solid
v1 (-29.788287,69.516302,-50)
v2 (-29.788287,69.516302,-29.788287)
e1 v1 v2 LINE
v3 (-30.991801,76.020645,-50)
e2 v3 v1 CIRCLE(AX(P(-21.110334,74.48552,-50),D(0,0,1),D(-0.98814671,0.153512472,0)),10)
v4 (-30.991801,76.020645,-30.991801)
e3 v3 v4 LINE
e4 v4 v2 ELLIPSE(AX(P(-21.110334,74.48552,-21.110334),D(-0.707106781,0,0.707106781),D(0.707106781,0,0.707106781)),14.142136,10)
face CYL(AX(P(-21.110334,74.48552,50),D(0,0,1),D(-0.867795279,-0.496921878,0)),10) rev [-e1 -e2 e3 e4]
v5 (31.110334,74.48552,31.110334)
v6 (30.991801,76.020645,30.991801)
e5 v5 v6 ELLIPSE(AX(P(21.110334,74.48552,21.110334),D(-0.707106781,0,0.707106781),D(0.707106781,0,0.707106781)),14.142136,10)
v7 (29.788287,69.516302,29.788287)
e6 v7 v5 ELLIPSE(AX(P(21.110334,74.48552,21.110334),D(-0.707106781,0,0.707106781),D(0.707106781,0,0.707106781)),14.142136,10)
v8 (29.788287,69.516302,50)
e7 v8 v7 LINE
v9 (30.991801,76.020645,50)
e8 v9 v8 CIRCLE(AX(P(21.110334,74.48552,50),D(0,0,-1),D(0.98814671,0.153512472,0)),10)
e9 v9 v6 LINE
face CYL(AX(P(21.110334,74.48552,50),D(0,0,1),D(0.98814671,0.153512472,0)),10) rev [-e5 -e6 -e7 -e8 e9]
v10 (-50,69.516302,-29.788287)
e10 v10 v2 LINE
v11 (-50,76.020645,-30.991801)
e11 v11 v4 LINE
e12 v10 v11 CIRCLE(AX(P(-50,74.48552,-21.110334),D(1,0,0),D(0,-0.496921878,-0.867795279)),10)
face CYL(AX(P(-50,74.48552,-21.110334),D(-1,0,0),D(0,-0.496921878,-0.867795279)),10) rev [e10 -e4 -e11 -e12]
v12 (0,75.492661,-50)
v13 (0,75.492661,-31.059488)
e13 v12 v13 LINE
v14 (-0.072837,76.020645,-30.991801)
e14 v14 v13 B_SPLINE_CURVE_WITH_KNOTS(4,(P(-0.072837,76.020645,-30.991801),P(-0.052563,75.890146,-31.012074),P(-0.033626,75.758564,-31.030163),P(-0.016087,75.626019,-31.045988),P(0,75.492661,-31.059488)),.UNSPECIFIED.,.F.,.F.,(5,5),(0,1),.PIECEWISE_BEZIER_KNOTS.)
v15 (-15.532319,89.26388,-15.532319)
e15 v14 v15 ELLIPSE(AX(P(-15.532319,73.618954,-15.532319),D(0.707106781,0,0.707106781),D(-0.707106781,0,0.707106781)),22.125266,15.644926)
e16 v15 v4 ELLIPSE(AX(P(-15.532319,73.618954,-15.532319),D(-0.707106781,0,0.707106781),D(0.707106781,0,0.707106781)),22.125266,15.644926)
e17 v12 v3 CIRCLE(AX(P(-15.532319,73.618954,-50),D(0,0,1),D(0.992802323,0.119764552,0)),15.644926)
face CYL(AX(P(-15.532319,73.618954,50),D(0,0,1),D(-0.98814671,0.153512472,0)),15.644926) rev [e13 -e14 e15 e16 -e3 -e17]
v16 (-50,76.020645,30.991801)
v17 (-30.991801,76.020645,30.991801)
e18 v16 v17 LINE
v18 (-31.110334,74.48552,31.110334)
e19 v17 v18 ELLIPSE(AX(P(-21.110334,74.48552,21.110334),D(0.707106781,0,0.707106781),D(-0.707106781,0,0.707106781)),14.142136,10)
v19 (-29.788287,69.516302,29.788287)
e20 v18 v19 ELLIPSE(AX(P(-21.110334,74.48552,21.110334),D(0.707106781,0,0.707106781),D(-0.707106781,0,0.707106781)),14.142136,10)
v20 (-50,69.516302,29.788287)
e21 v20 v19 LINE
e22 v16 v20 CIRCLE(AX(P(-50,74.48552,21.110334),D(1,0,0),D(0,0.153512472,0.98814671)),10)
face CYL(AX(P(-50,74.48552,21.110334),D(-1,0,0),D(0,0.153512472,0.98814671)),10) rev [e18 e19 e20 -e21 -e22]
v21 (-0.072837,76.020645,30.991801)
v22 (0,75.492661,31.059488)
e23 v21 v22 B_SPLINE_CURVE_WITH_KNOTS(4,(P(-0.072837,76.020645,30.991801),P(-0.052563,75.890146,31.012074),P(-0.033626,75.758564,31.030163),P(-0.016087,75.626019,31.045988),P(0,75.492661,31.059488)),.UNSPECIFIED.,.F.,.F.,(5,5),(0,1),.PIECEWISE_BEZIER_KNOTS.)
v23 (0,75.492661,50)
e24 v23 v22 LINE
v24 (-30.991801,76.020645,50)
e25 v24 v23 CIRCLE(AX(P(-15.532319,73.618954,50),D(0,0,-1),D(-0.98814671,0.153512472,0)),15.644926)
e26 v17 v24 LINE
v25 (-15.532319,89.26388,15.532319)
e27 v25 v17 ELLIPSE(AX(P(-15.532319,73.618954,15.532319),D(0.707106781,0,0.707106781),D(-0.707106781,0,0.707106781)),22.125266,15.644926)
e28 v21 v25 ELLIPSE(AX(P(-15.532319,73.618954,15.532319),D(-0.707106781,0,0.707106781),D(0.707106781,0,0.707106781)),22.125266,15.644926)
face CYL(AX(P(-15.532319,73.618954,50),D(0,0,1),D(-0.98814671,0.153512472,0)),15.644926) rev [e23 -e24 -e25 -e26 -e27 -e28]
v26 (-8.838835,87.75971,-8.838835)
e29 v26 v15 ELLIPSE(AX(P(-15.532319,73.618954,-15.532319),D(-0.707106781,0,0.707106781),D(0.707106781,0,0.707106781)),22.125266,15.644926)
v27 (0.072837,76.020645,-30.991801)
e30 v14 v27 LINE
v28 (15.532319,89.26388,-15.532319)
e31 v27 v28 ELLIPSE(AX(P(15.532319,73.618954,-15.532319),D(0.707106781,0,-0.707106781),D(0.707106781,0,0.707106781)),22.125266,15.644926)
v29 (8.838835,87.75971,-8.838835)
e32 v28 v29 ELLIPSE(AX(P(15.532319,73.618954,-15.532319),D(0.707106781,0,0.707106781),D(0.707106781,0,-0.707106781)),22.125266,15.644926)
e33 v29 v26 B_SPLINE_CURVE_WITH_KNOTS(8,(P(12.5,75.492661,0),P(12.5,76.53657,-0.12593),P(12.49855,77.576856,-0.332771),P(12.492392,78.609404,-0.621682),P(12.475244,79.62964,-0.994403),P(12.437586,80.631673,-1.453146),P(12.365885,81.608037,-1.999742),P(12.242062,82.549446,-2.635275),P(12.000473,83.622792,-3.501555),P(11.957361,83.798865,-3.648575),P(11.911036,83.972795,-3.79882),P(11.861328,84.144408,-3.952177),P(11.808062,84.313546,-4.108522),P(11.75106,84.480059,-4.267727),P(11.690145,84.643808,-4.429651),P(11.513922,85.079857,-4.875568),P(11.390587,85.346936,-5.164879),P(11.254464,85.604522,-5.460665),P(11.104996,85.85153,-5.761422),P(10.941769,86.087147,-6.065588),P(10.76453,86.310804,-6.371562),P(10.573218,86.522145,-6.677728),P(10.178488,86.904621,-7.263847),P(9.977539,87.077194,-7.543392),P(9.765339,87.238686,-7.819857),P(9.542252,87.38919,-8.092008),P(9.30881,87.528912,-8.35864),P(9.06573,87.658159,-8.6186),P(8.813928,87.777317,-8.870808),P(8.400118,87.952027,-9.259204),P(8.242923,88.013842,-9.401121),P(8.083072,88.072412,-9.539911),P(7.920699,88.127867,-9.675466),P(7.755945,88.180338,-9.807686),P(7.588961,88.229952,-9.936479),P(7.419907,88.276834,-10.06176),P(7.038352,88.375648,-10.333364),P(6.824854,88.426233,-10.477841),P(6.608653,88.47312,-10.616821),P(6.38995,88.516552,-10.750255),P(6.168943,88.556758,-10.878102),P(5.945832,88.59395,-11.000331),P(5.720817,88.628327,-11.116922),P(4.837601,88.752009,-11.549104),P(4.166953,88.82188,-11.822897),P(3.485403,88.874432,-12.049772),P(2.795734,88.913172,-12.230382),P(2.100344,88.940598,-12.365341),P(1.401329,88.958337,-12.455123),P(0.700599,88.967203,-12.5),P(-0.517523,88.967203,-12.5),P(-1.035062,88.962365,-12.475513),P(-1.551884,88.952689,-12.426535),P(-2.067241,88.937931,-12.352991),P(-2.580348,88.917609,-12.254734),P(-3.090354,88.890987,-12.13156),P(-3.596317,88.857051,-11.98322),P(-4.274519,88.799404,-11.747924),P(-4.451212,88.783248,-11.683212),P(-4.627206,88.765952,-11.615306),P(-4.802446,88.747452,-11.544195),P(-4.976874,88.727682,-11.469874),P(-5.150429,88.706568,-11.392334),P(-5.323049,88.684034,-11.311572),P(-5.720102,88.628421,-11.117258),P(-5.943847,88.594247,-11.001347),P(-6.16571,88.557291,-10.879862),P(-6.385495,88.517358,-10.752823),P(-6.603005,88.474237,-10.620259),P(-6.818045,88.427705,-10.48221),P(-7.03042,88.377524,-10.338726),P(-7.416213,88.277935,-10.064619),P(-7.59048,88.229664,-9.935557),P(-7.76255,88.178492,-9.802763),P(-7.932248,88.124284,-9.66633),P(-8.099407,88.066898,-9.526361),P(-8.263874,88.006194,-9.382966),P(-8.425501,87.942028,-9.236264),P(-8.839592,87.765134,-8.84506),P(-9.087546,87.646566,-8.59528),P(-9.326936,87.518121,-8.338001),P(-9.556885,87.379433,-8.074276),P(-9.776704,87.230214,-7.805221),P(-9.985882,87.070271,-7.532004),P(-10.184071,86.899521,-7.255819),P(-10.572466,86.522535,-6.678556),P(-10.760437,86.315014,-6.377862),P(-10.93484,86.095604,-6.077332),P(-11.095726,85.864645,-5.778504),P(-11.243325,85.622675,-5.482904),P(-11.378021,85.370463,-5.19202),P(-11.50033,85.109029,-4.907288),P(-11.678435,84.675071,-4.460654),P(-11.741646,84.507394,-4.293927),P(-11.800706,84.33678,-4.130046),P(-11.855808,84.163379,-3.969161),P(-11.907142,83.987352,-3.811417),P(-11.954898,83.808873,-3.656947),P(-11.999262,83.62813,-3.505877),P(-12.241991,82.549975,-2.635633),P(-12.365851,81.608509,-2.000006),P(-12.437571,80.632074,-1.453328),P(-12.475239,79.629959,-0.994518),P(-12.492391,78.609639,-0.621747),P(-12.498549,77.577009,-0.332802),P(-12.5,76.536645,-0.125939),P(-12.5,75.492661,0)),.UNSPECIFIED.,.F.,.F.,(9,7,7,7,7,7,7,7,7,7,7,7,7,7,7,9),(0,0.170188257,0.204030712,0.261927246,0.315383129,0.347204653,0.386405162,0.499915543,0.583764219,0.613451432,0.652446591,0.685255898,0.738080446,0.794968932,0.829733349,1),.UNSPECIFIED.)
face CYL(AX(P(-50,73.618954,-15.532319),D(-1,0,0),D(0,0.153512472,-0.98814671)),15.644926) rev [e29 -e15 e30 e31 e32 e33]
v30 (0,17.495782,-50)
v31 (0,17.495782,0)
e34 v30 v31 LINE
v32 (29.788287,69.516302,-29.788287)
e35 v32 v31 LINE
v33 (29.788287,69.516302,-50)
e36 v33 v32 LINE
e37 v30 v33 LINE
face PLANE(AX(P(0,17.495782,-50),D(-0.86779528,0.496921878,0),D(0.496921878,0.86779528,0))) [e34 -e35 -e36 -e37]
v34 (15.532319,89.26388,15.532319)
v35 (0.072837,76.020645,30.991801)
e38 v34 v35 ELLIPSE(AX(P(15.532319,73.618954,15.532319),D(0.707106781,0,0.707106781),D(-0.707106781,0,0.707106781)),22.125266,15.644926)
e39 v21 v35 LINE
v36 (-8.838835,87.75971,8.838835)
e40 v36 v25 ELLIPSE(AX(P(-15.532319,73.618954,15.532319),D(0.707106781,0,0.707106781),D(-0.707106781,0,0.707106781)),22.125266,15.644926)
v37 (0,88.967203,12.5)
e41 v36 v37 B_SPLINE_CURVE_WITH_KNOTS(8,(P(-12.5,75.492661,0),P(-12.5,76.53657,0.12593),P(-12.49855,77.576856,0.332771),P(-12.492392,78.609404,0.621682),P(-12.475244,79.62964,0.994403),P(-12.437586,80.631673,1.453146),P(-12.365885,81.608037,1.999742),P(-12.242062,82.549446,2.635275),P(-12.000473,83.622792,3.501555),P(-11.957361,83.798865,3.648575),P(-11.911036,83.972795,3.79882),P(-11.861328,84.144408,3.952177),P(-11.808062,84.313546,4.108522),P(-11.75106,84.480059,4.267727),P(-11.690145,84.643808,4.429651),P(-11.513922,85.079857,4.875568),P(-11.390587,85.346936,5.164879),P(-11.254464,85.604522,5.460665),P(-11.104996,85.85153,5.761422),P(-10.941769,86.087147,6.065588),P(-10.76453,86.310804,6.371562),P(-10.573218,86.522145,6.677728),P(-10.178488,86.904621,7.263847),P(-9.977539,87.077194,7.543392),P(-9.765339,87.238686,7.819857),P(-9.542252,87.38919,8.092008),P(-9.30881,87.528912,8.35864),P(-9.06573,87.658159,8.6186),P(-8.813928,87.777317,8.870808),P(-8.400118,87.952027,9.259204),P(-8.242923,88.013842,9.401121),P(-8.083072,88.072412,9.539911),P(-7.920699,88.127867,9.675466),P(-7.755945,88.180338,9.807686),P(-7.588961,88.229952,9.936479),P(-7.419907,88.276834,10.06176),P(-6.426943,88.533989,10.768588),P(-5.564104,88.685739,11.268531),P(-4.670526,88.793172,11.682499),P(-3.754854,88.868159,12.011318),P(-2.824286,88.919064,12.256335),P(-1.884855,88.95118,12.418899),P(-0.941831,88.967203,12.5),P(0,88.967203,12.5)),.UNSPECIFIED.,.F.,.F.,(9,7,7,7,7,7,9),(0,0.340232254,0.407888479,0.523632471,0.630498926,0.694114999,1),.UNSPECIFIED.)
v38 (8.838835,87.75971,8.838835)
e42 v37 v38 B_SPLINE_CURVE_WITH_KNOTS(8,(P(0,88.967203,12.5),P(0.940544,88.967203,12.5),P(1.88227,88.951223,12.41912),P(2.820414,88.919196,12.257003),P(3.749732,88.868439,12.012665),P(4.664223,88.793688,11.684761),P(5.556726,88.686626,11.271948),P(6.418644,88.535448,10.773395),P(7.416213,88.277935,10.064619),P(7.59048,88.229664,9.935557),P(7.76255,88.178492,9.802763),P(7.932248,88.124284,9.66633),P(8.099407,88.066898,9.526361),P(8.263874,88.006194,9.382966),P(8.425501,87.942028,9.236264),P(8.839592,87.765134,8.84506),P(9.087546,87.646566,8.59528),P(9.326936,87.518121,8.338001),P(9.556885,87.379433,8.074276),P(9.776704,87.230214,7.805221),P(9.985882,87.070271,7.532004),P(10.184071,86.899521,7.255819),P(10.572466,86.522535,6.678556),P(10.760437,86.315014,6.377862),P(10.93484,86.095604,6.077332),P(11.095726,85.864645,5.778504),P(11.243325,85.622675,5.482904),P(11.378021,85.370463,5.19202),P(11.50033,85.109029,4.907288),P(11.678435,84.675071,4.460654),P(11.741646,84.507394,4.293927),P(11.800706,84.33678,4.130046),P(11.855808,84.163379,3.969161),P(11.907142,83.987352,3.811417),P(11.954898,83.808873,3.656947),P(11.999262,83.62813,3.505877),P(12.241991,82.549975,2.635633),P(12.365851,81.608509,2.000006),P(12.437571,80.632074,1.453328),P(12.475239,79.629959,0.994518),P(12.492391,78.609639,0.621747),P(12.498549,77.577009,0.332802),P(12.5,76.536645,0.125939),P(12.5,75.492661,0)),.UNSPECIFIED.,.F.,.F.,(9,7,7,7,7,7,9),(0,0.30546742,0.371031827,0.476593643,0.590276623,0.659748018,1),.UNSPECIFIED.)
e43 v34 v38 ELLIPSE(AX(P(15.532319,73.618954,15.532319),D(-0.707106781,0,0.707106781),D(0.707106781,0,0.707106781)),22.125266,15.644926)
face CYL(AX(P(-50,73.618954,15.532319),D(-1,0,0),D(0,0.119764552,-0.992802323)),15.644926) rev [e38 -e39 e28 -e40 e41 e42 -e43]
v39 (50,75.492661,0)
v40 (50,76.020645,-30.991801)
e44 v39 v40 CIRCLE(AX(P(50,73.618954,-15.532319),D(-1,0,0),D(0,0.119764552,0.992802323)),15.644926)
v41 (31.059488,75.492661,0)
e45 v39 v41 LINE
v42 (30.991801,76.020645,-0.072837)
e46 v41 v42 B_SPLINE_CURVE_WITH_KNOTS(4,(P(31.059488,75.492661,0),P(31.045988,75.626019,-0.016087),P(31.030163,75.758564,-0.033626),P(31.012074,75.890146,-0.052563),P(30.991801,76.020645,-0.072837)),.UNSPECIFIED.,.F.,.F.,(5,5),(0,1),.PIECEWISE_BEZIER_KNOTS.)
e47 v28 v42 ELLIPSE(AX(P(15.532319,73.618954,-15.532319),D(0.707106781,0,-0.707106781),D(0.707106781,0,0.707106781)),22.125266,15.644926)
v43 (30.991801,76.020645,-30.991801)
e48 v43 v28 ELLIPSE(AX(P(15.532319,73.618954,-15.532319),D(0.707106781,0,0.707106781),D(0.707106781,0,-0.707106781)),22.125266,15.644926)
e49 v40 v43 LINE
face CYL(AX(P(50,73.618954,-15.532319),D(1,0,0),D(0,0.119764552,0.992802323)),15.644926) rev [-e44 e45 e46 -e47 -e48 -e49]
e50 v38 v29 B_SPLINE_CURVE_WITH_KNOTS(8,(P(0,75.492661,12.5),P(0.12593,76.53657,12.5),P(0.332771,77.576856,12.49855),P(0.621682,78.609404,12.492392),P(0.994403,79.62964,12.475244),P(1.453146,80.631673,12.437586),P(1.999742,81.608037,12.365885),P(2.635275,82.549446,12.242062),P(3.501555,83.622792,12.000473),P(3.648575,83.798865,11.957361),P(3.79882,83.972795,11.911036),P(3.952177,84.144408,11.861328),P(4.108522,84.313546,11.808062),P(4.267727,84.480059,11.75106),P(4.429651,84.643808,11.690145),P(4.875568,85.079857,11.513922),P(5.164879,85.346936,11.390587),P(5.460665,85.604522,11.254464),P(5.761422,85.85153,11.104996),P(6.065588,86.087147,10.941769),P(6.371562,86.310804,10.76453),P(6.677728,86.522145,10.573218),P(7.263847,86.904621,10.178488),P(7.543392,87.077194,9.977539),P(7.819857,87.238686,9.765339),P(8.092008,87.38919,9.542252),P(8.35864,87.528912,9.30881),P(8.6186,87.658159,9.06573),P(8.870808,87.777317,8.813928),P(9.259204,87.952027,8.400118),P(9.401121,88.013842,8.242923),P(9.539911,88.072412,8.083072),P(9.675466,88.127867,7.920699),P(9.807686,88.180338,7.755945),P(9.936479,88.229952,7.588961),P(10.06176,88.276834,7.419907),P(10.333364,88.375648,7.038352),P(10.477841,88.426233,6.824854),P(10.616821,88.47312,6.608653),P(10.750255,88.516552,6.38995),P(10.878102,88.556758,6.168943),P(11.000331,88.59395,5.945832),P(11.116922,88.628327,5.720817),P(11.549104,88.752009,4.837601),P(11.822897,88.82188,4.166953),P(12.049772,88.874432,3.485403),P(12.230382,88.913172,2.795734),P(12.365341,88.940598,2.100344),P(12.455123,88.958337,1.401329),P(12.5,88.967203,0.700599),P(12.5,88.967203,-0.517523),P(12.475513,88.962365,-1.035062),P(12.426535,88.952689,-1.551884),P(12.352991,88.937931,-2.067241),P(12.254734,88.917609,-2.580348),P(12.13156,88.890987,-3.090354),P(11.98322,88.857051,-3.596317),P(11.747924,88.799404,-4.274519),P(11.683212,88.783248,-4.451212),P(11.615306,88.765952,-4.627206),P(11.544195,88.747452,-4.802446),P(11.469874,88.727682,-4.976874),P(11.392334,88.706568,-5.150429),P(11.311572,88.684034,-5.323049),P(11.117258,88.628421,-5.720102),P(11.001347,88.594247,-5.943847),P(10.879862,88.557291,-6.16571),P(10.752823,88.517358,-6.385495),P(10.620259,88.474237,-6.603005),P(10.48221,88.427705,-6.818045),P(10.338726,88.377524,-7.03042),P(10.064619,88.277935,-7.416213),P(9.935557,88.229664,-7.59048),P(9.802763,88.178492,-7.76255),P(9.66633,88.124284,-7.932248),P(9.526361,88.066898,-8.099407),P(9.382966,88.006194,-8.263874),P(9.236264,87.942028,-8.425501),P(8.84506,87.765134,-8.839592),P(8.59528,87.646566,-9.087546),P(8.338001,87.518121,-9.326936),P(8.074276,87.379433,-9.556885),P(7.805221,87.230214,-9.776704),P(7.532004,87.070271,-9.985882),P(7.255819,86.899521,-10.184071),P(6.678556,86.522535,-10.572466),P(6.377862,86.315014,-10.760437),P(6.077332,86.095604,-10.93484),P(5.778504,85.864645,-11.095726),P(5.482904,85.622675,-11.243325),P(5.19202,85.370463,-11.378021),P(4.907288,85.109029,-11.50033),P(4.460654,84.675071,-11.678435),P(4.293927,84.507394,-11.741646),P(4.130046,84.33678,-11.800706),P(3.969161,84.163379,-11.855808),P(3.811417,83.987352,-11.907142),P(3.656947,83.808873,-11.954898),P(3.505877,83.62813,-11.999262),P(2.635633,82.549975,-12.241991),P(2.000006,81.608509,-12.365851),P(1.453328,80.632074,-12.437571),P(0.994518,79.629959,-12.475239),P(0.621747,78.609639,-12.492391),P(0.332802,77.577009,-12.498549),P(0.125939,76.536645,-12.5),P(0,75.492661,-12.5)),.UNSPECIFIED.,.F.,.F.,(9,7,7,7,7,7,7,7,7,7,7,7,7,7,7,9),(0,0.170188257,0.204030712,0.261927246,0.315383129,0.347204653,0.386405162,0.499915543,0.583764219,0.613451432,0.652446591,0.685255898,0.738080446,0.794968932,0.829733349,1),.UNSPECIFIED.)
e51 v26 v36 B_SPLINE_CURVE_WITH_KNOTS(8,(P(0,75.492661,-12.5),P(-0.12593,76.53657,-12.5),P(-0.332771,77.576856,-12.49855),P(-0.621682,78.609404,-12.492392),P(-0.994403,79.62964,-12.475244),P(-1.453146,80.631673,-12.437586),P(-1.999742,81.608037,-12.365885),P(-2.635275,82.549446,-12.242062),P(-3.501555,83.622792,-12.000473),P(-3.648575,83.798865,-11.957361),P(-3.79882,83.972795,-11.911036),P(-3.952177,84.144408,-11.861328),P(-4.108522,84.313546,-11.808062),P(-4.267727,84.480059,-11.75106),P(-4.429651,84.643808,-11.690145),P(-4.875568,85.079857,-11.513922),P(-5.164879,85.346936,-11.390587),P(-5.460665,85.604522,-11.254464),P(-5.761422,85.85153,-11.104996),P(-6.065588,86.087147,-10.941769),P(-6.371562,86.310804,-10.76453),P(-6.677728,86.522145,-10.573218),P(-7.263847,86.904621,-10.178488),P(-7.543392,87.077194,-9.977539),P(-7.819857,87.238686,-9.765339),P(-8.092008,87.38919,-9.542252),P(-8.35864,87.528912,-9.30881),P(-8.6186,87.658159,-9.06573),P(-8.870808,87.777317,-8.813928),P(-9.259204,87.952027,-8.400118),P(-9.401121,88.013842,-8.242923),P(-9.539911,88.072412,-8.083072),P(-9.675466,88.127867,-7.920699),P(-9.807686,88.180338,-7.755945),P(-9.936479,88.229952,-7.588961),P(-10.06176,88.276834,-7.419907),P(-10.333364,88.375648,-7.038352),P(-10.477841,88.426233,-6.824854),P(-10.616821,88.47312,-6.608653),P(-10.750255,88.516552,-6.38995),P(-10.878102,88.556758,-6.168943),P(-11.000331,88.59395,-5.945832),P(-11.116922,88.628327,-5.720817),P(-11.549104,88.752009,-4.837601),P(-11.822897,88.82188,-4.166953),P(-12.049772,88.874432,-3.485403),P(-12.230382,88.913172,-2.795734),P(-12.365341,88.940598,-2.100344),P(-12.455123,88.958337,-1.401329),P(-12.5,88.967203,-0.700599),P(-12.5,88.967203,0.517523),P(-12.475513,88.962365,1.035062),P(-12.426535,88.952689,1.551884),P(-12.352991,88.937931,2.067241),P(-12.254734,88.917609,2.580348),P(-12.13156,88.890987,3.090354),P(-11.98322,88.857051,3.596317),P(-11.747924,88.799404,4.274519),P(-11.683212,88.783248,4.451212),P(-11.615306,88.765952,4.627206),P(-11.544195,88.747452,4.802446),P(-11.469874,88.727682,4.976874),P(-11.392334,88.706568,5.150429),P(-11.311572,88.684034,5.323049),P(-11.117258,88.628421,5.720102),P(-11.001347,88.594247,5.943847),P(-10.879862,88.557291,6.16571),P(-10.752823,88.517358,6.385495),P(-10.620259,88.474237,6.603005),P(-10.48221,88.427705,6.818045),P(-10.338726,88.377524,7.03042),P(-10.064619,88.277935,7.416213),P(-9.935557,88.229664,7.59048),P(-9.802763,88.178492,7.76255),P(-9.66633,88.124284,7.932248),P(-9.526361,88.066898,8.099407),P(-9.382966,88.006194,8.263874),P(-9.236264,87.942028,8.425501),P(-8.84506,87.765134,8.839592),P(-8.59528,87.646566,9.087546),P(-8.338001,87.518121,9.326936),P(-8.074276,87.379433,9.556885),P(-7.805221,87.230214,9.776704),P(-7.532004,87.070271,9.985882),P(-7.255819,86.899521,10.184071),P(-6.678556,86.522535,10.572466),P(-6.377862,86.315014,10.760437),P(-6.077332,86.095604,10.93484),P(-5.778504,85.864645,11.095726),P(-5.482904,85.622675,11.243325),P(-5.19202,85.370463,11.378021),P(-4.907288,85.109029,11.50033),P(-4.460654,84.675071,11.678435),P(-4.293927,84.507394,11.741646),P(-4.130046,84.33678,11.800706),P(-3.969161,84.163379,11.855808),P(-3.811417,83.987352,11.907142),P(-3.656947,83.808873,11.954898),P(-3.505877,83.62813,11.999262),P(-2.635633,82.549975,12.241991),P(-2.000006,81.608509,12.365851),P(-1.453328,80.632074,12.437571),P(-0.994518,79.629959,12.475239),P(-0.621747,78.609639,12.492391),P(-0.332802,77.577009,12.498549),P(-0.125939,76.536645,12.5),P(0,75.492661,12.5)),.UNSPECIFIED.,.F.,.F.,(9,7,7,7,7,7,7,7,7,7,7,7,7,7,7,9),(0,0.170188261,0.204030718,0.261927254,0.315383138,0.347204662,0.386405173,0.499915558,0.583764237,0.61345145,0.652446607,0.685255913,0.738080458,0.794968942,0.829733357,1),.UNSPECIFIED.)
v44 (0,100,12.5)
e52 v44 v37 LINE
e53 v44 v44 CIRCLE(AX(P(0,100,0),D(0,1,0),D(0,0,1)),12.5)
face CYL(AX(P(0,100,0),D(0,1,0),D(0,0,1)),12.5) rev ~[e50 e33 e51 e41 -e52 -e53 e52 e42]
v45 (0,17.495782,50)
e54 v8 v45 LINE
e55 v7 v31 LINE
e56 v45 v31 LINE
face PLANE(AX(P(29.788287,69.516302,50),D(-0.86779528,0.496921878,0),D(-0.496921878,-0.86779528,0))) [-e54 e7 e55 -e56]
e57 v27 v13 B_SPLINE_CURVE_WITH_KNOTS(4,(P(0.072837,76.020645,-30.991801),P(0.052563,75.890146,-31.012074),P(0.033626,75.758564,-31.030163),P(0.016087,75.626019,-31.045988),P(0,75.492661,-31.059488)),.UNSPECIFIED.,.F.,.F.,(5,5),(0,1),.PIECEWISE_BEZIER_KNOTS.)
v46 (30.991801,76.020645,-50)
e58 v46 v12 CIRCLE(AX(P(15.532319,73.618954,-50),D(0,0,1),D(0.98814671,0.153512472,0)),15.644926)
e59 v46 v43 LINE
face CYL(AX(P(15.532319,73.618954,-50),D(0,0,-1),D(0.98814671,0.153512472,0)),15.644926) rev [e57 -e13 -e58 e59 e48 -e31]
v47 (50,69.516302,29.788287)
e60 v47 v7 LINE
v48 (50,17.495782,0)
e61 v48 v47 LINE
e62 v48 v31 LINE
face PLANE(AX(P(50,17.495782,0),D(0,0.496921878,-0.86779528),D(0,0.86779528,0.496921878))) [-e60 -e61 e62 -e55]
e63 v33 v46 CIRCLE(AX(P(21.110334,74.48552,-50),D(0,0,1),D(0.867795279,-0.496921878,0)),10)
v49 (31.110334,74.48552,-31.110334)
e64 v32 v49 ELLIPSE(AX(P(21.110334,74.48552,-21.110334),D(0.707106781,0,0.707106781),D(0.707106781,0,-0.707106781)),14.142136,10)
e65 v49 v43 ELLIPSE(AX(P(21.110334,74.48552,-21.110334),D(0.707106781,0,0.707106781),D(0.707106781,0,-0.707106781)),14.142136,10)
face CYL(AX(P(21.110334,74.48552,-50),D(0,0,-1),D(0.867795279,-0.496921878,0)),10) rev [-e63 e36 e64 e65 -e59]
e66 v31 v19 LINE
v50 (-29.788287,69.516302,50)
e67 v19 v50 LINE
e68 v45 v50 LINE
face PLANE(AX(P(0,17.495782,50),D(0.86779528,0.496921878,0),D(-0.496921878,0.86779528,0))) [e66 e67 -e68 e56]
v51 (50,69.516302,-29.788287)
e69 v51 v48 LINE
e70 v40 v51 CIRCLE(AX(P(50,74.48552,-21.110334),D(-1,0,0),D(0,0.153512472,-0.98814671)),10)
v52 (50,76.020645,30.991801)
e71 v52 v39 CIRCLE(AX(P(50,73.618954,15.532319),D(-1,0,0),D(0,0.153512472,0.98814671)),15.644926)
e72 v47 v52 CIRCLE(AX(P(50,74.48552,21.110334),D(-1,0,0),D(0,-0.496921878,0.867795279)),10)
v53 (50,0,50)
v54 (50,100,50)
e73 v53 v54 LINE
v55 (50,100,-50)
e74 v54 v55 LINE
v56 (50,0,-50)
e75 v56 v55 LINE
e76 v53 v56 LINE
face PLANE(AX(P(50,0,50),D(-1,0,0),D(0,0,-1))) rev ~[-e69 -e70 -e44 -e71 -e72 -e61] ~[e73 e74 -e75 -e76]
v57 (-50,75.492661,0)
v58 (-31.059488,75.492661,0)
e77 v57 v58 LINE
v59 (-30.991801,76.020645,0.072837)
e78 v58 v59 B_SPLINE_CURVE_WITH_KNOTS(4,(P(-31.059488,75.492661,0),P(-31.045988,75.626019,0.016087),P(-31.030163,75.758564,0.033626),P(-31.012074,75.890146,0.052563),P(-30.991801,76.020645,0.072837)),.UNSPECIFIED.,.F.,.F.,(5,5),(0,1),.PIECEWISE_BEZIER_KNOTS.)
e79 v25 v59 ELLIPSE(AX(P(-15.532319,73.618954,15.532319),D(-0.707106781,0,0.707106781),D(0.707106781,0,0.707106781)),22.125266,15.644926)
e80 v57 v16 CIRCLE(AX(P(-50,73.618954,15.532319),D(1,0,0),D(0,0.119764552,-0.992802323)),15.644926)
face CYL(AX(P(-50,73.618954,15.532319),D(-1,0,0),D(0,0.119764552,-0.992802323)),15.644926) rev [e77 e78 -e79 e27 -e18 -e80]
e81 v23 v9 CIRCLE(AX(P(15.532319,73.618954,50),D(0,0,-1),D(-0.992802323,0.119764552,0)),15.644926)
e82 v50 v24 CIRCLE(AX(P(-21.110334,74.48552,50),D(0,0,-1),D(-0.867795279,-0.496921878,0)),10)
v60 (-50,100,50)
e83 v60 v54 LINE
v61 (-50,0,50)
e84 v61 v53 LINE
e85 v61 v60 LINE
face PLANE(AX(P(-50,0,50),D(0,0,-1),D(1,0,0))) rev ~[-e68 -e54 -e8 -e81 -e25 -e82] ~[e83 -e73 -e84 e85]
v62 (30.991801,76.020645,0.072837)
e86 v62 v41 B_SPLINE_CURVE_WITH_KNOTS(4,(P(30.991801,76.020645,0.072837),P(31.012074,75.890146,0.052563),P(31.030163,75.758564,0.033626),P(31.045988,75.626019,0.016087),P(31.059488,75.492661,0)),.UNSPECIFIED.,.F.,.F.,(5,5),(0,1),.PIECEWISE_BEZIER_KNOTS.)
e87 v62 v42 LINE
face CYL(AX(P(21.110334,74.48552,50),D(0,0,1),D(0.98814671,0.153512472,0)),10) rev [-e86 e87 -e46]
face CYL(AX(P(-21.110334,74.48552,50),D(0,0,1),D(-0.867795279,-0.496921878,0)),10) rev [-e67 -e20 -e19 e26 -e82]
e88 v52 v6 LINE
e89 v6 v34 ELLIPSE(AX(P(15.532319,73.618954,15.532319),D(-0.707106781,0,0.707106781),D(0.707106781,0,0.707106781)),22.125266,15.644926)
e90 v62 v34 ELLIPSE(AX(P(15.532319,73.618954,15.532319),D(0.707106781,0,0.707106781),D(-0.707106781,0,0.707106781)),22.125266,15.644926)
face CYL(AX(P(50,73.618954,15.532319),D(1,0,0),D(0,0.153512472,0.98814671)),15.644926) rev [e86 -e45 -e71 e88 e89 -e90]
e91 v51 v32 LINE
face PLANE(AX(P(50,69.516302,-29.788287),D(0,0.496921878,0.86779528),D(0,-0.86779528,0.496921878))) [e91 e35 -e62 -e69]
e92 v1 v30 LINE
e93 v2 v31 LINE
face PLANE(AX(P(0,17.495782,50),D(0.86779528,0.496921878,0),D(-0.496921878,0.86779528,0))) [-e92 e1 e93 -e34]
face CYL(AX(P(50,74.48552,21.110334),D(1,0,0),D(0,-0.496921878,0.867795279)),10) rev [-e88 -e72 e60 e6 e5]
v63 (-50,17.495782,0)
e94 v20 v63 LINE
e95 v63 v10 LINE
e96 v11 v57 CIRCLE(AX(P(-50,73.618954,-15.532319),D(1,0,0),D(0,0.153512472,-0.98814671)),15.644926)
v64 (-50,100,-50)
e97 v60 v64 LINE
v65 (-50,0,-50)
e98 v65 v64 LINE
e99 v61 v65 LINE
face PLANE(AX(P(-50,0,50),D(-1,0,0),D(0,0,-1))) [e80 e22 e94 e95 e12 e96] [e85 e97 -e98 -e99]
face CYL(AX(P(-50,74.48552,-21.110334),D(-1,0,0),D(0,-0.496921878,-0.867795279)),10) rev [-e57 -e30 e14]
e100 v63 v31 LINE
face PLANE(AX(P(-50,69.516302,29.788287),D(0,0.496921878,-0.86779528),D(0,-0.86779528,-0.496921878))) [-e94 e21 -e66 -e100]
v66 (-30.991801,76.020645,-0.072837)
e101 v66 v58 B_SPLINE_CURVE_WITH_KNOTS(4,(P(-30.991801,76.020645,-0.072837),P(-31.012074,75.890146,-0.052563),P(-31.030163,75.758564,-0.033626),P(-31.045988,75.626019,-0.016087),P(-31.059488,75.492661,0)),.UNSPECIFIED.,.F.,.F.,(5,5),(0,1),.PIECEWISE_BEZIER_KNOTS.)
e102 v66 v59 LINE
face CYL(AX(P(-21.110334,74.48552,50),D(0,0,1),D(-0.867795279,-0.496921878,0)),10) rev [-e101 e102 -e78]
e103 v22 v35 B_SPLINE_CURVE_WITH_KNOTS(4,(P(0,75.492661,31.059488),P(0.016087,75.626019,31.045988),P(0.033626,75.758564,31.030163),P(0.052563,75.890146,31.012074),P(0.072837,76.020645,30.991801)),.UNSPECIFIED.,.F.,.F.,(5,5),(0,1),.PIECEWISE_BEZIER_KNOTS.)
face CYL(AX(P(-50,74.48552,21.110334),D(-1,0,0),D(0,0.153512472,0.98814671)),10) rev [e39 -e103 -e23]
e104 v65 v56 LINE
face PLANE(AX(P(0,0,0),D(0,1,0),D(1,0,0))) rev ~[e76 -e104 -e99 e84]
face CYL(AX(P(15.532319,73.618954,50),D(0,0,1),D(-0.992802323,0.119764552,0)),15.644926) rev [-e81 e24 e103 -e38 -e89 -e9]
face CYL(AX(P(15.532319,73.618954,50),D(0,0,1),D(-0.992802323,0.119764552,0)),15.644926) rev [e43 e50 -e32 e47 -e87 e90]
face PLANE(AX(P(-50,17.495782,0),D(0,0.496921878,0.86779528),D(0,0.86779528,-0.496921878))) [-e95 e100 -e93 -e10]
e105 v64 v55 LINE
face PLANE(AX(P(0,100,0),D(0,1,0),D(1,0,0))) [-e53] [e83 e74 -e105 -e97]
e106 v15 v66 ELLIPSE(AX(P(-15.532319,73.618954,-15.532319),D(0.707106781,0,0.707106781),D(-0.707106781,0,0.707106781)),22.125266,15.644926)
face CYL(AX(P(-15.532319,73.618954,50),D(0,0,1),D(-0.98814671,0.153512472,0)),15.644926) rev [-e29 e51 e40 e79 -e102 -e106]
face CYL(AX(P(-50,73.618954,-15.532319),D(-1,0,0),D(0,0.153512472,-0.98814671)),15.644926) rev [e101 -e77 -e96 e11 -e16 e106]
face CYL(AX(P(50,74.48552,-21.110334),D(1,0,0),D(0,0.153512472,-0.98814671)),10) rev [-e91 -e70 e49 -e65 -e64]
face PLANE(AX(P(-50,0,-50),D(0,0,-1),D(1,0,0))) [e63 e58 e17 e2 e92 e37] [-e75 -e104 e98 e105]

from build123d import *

# Parameters (mm, degrees)
SKETCH1_W           = 100
SKETCH1_H           = 100
BOSS_EXTRUDE1_DEPTH = 100
CUT_EXTRUDE1_DEPTH  = 50
CIRPATTERN2_COUNT   = 4
SKETCH3_R           = 12.5
CUT_EXTRUDE2_DEPTH  = 50


with BuildPart() as part:
    # Sketch1 → Boss-Extrude1 (new body)
    with BuildSketch(Plane(origin=(0, 0, 0), x_dir=(1, 0, 0), z_dir=(0, 1, 0))):
        Rectangle(SKETCH1_W, SKETCH1_H)
    extrude(amount=BOSS_EXTRUDE1_DEPTH)

    # Sketch2 → Cut-Extrude1 (cut)
    with BuildSketch(Plane.XY.offset(50)):
        with BuildLine():
            Line((0, 17.495781671), (-29.788286543, 69.516301586))
            ThreePointArc((-29.788286543, 69.516301586), (-30.943422674, 72.666080294), (-30.99180085, 76.020645087))
            ThreePointArc((-30.99180085, 76.020645087), (-15.265826761, 89.261609896), (0, 75.492661373))
            ThreePointArc((0, 75.492661373), (15.265826761, 89.261609896), (30.99180085, 76.020645087))
            ThreePointArc((30.99180085, 76.020645087), (30.943422674, 72.666080294), (29.788286543, 69.516301586))
            Line((29.788286543, 69.516301586), (0, 17.495781671))
        make_face()
    cut_extrude1 = extrude(amount=-CUT_EXTRUDE1_DEPTH, mode=Mode.SUBTRACT)

    # CirPattern2: Cut-Extrude1 ×4 about axis
    cirpattern2_axis = Axis((0, 105, 0), (0, -1, 0))
    for i in range(1, CIRPATTERN2_COUNT):
        add(cut_extrude1.rotate(cirpattern2_axis, i * 360 / CIRPATTERN2_COUNT), mode=Mode.SUBTRACT)

    # Sketch3 → Cut-Extrude2 (cut)
    with BuildSketch(Plane(origin=(0, 100, 0), x_dir=(1, 0, 0), z_dir=(0, 1, 0))):
        Circle(SKETCH3_R)
    extrude(amount=-CUT_EXTRUDE2_DEPTH, mode=Mode.SUBTRACT)


solid = part.part
